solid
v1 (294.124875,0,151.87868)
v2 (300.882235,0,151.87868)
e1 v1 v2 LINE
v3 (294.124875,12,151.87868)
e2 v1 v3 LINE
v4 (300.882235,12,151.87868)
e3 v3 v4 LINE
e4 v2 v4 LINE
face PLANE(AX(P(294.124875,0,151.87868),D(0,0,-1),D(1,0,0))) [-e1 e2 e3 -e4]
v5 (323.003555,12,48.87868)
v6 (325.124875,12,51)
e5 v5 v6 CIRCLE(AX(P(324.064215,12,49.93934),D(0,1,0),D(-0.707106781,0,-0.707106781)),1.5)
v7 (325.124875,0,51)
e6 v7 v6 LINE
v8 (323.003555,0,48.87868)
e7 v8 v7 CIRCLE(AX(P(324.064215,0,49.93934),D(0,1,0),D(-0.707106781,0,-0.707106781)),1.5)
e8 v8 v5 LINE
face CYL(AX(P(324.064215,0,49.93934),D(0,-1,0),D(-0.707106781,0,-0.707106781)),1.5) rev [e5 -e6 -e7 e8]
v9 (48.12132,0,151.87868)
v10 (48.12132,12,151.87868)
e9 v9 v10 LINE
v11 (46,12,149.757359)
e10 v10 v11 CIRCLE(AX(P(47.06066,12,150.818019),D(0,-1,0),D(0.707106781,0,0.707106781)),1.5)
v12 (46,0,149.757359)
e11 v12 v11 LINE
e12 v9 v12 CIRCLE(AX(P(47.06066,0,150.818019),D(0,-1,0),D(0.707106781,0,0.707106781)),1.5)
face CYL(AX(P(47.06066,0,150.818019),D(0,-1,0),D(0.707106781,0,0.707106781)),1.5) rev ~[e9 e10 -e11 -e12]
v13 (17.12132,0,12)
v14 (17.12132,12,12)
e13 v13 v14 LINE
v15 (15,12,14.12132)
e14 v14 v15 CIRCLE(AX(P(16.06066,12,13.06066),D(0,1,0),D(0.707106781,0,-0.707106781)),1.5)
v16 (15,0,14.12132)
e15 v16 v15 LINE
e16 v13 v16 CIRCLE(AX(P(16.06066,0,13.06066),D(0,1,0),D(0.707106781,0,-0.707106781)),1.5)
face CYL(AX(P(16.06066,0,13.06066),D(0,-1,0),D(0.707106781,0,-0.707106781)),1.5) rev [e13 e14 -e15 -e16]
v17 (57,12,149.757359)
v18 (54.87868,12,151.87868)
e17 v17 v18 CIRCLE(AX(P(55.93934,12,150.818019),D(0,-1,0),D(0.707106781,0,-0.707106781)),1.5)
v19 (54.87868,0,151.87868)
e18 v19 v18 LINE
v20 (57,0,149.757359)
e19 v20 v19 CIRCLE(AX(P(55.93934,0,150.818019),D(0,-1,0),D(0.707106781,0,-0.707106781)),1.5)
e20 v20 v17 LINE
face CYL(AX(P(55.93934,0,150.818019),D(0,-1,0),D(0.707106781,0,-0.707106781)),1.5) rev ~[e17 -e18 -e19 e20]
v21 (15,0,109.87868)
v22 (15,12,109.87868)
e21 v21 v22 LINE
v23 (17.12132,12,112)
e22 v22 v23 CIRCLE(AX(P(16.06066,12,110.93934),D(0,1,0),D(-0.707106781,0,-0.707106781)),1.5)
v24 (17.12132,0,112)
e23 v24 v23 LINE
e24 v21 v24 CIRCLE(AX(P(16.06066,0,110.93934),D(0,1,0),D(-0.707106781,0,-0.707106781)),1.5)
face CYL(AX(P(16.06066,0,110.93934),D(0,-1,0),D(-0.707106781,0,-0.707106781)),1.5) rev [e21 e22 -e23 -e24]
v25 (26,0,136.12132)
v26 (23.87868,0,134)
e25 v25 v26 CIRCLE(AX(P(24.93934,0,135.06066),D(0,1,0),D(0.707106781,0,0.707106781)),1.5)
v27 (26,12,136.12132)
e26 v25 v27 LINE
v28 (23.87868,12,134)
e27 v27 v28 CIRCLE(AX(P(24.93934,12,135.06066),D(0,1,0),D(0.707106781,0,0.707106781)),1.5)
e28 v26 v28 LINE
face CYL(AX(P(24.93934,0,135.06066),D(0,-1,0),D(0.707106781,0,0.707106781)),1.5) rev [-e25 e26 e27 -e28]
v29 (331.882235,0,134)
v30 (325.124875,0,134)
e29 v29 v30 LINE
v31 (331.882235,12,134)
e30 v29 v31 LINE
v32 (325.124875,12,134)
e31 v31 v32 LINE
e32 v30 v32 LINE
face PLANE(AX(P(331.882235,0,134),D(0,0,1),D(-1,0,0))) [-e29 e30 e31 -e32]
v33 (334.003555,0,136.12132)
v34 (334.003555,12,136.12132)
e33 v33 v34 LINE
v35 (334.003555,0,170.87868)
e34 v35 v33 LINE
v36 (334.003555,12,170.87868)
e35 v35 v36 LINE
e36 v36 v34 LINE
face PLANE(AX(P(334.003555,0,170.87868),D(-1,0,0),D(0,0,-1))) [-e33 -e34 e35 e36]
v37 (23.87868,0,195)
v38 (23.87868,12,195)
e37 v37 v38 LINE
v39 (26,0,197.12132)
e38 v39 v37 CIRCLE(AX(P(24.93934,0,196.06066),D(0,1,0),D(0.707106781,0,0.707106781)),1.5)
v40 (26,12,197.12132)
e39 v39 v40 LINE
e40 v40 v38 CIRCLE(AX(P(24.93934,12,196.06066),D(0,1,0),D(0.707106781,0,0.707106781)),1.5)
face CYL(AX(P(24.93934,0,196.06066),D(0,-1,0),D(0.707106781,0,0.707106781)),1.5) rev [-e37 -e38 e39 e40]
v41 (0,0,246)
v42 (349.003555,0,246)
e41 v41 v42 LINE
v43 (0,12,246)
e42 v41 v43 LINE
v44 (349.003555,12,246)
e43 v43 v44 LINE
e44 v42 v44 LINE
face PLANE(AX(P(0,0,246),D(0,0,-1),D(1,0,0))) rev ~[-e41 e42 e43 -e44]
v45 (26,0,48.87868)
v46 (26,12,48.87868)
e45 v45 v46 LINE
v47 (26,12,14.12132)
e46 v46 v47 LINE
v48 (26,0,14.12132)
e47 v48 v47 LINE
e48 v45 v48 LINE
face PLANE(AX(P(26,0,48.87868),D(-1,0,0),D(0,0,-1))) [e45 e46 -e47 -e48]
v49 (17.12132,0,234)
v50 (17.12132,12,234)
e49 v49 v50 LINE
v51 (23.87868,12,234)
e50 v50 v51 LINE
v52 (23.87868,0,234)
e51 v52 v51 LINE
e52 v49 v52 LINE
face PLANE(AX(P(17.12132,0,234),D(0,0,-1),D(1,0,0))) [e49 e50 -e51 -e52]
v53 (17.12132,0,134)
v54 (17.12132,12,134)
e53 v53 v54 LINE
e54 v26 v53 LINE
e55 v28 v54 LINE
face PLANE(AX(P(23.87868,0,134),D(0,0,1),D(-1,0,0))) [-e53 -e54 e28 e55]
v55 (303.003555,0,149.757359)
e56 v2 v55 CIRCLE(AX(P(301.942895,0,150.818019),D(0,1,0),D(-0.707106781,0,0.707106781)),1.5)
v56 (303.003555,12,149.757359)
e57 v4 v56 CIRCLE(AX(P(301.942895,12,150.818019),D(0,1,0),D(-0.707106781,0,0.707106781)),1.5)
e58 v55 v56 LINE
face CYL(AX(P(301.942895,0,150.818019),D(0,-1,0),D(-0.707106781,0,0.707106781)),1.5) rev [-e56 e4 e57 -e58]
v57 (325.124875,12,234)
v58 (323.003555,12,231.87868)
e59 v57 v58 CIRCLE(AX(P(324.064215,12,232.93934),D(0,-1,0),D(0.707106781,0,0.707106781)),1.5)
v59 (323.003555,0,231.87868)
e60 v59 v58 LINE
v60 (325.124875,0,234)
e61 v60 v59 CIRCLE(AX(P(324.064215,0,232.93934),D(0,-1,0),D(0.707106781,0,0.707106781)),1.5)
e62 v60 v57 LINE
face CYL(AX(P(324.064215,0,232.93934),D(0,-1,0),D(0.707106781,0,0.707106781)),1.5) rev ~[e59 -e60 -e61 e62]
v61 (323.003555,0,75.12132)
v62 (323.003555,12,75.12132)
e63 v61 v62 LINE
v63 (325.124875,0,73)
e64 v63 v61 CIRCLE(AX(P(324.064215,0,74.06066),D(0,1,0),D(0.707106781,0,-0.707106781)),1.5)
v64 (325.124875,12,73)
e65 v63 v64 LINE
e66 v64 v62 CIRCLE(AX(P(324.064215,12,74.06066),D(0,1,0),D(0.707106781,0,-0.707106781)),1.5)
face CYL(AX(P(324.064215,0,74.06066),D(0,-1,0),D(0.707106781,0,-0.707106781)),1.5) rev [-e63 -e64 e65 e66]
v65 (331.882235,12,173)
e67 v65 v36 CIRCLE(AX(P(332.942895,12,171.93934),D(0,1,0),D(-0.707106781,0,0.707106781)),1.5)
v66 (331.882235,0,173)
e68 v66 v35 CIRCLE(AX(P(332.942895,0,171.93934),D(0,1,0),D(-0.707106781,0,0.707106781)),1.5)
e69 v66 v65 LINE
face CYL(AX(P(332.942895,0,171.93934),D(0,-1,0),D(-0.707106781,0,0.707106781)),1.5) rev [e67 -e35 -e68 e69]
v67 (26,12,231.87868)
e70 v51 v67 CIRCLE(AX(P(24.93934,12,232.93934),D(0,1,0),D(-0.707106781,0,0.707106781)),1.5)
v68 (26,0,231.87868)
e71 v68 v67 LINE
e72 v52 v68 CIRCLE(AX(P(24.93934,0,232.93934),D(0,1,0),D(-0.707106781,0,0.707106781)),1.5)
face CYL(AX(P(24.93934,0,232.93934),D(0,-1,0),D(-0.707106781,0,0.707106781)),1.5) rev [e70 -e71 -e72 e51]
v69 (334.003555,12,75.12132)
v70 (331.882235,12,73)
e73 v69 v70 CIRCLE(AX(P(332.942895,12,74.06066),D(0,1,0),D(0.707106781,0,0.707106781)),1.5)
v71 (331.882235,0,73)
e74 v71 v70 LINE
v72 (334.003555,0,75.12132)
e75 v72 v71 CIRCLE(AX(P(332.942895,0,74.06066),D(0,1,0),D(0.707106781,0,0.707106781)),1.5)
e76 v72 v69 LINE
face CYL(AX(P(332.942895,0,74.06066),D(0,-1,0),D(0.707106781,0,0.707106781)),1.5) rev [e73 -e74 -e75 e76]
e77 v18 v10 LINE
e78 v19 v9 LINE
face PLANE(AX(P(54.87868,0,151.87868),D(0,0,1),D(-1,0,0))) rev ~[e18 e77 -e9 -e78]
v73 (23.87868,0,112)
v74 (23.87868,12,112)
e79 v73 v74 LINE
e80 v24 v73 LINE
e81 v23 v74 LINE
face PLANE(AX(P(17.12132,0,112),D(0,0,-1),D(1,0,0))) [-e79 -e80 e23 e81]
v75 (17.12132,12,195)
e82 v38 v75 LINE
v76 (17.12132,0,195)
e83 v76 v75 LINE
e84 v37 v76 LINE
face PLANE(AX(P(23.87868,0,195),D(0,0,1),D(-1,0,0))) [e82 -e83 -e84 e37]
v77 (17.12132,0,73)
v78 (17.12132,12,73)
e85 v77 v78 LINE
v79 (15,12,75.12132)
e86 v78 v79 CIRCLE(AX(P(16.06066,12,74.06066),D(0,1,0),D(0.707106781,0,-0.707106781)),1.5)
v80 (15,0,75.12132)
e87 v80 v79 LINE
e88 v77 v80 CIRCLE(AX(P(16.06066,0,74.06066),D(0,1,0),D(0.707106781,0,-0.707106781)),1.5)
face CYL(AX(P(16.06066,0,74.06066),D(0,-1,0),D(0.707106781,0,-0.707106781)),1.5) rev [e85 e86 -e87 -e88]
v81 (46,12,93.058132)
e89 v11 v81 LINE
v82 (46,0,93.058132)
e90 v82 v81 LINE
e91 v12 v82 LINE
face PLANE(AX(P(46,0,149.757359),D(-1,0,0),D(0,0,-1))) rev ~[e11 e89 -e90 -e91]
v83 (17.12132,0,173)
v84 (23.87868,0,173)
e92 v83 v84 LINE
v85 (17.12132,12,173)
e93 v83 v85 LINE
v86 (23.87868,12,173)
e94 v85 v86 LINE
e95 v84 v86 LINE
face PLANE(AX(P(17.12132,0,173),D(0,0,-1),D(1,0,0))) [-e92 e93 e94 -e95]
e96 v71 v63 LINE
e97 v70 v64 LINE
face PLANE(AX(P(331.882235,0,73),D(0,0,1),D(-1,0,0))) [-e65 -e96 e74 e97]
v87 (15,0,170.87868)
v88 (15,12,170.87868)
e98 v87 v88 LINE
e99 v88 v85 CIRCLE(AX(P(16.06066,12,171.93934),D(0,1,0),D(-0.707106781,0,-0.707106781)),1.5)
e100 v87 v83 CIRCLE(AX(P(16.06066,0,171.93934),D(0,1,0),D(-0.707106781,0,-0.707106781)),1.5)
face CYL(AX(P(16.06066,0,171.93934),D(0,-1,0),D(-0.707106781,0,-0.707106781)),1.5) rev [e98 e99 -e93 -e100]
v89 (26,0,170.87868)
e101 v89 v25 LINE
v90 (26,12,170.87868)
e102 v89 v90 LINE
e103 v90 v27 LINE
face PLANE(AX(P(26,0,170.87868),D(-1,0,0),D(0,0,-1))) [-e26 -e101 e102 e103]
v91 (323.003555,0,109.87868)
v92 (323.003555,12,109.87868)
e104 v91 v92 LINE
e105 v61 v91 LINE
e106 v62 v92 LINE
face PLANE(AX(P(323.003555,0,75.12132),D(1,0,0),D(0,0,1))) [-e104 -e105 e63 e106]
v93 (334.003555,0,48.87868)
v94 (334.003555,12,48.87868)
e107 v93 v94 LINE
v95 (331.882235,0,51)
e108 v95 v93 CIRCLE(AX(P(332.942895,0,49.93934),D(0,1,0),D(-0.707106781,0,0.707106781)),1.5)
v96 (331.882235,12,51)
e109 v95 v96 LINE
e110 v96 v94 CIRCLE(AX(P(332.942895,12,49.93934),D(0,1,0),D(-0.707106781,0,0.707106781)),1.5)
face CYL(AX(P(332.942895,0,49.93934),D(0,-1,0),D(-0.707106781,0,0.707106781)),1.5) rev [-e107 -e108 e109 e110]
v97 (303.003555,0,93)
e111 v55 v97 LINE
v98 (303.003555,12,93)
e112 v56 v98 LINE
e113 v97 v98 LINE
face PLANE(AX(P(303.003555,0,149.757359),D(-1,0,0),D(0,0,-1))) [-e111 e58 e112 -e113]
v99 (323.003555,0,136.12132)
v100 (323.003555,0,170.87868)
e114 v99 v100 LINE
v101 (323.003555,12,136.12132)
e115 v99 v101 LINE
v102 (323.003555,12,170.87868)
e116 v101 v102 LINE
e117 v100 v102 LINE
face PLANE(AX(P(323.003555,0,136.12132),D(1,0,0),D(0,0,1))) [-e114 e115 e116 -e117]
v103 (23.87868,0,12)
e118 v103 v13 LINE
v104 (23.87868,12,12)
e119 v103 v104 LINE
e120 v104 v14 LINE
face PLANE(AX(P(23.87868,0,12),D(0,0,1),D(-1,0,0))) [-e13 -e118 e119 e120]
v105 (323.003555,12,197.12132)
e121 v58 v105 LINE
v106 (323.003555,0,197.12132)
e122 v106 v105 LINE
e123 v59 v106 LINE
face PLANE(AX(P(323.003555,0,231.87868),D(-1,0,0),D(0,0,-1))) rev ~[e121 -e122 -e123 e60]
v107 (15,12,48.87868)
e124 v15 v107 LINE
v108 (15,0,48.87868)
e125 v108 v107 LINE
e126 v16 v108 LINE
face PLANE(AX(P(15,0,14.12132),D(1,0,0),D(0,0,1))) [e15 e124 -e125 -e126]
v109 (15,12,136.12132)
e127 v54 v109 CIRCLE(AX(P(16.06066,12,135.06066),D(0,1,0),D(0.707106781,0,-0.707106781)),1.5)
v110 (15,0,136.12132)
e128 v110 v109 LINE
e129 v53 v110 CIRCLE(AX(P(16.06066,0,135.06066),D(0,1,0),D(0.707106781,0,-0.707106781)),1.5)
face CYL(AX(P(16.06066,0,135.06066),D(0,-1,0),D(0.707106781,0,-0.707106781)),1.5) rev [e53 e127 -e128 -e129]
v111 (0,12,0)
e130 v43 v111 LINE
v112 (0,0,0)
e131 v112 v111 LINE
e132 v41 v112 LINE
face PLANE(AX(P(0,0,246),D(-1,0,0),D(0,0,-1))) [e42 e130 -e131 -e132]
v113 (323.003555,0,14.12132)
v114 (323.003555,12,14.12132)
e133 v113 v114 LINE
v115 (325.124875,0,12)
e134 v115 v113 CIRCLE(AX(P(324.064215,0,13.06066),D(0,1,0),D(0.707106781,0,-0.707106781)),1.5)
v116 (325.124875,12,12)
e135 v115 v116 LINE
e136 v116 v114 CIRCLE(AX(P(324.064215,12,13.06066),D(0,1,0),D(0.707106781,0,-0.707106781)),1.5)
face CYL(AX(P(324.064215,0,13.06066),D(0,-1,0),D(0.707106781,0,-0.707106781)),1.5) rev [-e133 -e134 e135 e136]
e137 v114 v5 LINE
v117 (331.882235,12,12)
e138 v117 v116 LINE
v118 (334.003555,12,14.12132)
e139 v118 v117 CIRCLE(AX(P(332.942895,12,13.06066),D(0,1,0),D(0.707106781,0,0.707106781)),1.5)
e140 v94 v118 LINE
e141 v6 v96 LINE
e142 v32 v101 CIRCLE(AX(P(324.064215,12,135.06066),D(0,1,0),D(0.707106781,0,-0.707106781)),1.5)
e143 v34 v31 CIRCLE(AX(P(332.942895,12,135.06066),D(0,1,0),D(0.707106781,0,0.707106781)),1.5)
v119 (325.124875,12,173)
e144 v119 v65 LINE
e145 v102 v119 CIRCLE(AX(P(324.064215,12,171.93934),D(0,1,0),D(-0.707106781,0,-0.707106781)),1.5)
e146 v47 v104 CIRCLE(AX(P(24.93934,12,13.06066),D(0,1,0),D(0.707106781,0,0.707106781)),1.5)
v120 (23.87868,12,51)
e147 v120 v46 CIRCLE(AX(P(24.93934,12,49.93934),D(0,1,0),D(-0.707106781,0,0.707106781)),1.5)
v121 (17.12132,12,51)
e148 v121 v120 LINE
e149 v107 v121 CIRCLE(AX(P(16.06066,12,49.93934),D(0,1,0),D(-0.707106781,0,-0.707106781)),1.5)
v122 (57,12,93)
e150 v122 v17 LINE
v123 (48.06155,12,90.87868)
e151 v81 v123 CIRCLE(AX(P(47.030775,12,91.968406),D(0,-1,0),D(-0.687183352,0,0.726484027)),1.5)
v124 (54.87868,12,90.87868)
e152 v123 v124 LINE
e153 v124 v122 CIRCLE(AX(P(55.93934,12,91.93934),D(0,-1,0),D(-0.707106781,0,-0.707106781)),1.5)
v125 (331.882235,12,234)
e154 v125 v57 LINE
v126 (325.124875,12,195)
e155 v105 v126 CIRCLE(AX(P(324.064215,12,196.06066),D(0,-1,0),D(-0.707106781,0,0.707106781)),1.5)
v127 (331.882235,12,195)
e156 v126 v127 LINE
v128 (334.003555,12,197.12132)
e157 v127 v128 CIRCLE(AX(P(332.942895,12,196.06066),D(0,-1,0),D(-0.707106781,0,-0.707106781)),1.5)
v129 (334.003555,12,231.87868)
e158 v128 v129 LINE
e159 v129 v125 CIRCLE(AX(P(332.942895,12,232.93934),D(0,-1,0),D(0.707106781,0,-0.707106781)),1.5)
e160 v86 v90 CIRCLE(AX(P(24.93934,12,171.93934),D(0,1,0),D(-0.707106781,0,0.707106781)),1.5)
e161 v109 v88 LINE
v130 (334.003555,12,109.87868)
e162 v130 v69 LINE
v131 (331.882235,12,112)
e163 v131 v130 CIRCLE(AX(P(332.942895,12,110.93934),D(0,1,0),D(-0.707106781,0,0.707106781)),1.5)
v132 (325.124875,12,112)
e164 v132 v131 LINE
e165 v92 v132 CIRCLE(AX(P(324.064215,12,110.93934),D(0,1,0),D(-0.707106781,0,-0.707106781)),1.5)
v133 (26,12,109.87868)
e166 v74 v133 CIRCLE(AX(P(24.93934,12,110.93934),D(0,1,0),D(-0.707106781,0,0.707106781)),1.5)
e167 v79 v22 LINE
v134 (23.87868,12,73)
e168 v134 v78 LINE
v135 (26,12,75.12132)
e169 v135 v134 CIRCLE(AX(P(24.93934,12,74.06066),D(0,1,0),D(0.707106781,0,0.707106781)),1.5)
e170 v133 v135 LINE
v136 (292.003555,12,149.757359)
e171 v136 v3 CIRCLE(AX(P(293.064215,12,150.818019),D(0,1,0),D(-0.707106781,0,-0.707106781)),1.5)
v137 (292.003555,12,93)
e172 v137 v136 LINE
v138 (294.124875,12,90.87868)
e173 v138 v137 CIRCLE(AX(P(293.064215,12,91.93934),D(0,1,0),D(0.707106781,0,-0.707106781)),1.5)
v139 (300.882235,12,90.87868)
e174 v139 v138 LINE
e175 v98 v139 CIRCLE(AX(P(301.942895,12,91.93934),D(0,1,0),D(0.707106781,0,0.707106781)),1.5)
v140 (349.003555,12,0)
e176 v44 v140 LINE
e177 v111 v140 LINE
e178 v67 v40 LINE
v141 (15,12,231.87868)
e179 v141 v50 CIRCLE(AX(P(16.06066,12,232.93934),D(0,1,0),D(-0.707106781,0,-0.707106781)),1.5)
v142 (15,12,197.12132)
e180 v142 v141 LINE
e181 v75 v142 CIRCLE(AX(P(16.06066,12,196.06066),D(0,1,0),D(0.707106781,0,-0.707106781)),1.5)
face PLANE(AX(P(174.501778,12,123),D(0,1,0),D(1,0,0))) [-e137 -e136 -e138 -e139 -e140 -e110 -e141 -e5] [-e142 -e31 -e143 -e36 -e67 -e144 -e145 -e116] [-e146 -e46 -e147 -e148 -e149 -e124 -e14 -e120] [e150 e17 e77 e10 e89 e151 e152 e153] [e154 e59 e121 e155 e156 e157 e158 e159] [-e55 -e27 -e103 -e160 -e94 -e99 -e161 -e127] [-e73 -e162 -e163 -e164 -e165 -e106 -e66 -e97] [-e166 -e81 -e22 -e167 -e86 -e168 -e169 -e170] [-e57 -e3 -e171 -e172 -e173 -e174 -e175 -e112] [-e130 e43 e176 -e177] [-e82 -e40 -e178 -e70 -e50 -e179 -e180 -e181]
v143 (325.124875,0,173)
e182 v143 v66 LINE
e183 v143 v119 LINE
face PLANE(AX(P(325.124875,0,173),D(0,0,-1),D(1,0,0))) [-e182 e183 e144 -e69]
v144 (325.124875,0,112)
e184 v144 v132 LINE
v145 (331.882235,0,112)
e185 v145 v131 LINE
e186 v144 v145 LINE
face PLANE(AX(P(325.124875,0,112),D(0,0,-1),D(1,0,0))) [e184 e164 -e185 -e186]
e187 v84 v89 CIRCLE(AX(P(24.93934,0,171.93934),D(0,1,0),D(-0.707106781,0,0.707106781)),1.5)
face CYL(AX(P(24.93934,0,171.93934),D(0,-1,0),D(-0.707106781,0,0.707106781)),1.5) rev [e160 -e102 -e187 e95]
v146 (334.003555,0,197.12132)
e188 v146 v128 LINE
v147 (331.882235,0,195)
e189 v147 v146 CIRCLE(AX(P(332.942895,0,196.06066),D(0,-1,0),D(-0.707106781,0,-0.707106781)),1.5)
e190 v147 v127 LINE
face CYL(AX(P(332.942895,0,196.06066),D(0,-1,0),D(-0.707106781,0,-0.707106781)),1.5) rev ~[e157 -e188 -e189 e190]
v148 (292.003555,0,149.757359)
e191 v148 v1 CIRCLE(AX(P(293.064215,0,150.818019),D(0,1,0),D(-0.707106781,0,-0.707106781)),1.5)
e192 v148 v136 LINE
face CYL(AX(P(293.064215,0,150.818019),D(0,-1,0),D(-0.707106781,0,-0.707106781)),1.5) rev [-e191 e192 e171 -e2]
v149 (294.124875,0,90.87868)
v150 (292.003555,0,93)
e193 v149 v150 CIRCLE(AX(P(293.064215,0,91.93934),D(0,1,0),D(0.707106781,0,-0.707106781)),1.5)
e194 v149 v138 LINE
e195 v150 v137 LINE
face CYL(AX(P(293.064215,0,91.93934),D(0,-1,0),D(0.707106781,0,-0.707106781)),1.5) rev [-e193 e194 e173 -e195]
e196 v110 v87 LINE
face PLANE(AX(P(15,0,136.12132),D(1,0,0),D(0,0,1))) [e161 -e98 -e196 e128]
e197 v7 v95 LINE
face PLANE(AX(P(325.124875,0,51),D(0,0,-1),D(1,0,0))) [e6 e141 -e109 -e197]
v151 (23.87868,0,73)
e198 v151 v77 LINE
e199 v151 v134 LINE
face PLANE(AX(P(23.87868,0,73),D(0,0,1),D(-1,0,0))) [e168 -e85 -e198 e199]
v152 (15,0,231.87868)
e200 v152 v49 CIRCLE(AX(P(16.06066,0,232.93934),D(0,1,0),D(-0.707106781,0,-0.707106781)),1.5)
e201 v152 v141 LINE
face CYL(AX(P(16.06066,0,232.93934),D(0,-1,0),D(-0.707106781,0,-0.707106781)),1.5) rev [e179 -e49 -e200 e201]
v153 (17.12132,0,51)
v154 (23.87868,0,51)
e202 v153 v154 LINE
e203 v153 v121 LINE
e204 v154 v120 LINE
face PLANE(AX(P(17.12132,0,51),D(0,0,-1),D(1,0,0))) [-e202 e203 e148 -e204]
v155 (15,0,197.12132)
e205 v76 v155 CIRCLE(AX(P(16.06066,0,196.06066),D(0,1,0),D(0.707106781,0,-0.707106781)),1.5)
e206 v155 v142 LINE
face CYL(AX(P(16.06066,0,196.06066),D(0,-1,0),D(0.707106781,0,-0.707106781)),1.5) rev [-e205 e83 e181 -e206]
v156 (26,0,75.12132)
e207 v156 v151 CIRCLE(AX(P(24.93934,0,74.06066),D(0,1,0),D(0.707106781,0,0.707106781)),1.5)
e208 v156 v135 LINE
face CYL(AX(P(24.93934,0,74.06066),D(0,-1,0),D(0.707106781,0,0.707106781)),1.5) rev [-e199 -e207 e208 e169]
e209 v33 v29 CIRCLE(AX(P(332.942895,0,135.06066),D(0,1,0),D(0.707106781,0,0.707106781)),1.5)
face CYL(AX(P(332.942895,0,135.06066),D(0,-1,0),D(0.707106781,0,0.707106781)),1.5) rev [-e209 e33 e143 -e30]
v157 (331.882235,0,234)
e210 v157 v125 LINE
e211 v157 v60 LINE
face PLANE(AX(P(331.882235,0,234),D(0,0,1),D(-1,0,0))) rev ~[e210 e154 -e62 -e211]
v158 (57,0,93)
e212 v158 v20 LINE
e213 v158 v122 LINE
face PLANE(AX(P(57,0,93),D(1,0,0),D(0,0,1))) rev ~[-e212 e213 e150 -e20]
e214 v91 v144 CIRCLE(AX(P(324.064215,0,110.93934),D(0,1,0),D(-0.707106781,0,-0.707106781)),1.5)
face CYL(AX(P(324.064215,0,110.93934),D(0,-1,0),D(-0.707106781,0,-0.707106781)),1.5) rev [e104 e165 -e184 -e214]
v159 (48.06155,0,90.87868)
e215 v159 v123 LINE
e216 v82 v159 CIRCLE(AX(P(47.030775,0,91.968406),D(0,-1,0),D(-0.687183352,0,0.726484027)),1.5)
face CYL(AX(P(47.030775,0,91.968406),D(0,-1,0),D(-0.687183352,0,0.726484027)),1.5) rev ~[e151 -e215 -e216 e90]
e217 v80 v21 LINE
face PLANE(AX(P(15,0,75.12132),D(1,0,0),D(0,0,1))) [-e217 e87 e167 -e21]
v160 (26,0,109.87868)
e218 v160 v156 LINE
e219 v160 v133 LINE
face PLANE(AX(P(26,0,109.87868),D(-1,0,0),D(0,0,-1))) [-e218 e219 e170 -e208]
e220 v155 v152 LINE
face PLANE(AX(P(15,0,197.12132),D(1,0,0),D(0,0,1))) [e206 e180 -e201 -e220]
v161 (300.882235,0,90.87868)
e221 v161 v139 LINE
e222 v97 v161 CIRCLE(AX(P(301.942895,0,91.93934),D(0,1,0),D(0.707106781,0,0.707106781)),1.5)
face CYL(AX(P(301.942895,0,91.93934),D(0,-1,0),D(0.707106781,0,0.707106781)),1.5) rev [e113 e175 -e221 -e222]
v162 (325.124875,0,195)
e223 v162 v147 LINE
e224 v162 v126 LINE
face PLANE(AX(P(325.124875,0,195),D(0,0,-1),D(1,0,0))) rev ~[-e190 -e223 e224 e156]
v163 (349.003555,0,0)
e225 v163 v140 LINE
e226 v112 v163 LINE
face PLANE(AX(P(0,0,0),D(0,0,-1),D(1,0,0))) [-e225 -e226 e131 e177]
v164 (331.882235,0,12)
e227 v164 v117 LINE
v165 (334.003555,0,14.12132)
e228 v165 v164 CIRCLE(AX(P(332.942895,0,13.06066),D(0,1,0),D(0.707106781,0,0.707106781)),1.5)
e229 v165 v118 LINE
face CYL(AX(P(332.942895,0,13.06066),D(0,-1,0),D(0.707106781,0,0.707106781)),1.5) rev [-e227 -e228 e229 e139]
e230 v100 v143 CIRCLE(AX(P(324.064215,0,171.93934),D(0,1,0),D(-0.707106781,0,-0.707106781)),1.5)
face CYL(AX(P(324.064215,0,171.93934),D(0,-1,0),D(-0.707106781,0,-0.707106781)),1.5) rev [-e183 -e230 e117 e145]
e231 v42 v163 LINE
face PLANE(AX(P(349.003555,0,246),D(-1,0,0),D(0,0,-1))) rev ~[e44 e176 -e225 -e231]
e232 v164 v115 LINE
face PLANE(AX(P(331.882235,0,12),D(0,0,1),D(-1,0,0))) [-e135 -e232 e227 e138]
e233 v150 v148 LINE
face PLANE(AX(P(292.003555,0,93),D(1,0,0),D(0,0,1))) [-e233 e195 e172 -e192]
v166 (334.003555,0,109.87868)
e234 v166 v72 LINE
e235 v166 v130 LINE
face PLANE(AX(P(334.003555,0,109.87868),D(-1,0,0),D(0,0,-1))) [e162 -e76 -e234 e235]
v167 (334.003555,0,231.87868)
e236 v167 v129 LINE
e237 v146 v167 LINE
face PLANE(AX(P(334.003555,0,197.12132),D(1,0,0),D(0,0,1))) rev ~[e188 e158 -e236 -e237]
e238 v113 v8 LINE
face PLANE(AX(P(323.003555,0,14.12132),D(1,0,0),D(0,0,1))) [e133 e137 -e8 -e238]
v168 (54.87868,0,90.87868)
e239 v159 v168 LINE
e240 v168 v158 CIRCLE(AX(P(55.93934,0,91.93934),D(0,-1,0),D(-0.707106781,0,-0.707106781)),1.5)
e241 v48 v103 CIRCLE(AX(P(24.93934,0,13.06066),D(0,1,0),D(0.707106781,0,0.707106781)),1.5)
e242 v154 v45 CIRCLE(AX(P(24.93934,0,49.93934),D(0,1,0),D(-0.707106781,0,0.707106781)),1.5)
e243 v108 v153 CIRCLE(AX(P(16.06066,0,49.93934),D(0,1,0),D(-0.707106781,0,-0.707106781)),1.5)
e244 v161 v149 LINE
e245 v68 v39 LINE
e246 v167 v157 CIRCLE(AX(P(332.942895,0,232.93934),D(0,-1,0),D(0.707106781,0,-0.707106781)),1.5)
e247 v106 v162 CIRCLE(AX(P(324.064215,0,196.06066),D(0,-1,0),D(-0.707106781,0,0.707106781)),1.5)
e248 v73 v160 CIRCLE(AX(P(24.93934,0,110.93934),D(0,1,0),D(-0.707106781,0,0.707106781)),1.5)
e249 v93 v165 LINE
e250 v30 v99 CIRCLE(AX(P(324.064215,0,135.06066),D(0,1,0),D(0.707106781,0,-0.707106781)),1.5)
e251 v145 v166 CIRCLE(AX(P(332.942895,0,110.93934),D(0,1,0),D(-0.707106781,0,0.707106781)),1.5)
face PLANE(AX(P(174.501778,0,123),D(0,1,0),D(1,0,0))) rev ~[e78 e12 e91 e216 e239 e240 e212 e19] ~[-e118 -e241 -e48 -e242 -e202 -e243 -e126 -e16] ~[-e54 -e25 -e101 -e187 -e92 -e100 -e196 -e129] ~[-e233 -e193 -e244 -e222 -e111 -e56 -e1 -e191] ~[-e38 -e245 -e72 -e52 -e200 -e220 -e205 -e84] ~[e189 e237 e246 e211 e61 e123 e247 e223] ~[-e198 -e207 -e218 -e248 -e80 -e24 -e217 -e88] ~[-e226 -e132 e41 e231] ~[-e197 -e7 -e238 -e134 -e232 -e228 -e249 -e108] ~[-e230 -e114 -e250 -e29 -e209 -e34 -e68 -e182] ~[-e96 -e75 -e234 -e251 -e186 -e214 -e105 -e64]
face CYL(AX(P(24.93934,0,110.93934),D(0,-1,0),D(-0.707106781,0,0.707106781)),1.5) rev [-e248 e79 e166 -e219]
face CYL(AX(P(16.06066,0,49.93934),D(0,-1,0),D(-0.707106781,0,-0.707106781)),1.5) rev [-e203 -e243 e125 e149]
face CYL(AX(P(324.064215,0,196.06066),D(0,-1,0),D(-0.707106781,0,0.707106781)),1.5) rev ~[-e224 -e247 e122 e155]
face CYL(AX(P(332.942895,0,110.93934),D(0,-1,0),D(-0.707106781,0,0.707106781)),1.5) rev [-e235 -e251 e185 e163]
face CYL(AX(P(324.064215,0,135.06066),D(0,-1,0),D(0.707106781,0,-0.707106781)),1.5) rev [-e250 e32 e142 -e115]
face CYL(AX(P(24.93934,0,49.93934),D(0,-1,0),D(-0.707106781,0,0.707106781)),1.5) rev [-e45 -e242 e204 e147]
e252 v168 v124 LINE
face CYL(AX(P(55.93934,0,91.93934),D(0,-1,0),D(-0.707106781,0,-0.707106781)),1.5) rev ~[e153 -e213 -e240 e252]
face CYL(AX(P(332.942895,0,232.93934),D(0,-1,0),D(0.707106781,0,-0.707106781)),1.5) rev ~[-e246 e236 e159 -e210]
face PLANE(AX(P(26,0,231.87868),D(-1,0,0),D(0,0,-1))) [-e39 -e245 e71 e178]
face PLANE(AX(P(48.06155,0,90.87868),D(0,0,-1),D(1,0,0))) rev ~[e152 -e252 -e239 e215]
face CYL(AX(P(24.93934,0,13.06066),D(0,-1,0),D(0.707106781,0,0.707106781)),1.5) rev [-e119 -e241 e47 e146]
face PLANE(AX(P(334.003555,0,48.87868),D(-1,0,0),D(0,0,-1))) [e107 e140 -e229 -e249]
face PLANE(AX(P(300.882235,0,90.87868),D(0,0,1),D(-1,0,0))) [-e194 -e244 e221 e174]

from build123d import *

# Parameters (mm, degrees)
CROQUIS1_W              = 349.003555023
CROQUIS1_H              = 246
SALIENTE_EXTRUIR1_DEPTH = 12


with BuildPart() as part:
    # Croquis1 → Saliente-Extruir1 (new body)
    with BuildSketch(Plane(origin=(0, 0, 0), x_dir=(1, 0, 0), z_dir=(0, 1, 0))):
        with Locations((174.501777512, -123)):
            Rectangle(CROQUIS1_W, CROQUIS1_H)
        with BuildLine():
            Line((17.121320344, -173), (23.878679656, -173))
            ThreePointArc((23.878679656, -173), (26, -173), (26, -170.878679656))
            Line((26, -170.878679656), (26, -136.121320344))
            ThreePointArc((26, -136.121320344), (26, -134), (23.878679656, -134))
            Line((23.878679656, -134), (17.121320344, -134))
            ThreePointArc((17.121320344, -134), (15, -134), (15, -136.121320344))
            Line((15, -136.121320344), (15, -170.878679656))
            ThreePointArc((15, -170.878679656), (15, -173), (17.121320344, -173))
        make_face(mode=Mode.SUBTRACT)
        with BuildLine():
            Line((46, -149.757359313), (46, -93.058131736))
            ThreePointArc((46, -93.058131736), (45.941048988, -90.937630668), (48.061550056, -90.878679656))
            Line((48.061550056, -90.878679656), (54.878679656, -90.878679656))
            ThreePointArc((54.878679656, -90.878679656), (57, -90.878679656), (57, -93))
            Line((57, -93), (57, -149.757359313))
            ThreePointArc((57, -149.757359313), (57, -151.878679656), (54.878679656, -151.878679656))
            Line((54.878679656, -151.878679656), (48.121320344, -151.878679656))
            ThreePointArc((48.121320344, -151.878679656), (46, -151.878679656), (46, -149.757359313))
        make_face(mode=Mode.SUBTRACT)
        with BuildLine():
            Line((17.121320344, -112), (23.878679656, -112))
            ThreePointArc((23.878679656, -112), (26, -112), (26, -109.878679656))
            Line((26, -109.878679656), (26, -75.121320344))
            ThreePointArc((26, -75.121320344), (26, -73), (23.878679656, -73))
            Line((23.878679656, -73), (17.121320344, -73))
            ThreePointArc((17.121320344, -73), (15, -73), (15, -75.121320344))
            Line((15, -75.121320344), (15, -109.878679656))
            ThreePointArc((15, -109.878679656), (15, -112), (17.121320344, -112))
        make_face(mode=Mode.SUBTRACT)
        with BuildLine():
            Line((26, -231.878679656), (26, -197.121320344))
            ThreePointArc((26, -197.121320344), (26, -195), (23.878679656, -195))
            Line((23.878679656, -195), (17.121320344, -195))
            ThreePointArc((17.121320344, -195), (15, -195), (15, -197.121320344))
            Line((15, -197.121320344), (15, -231.878679656))
            ThreePointArc((15, -231.878679656), (15, -234), (17.121320344, -234))
            Line((17.121320344, -234), (23.878679656, -234))
            ThreePointArc((23.878679656, -234), (26, -234), (26, -231.878679656))
        make_face(mode=Mode.SUBTRACT)
        with BuildLine():
            Line((17.121320344, -51), (23.878679656, -51))
            ThreePointArc((23.878679656, -51), (26, -51), (26, -48.878679656))
            Line((26, -48.878679656), (26, -14.121320344))
            ThreePointArc((26, -14.121320344), (26, -12), (23.878679656, -12))
            Line((23.878679656, -12), (17.121320344, -12))
            ThreePointArc((17.121320344, -12), (15, -12), (15, -14.121320344))
            Line((15, -14.121320344), (15, -48.878679656))
            ThreePointArc((15, -48.878679656), (15, -51), (17.121320344, -51))
        make_face(mode=Mode.SUBTRACT)
        with BuildLine():
            Line((331.88223468, -234), (325.124875367, -234))
            ThreePointArc((325.124875367, -234), (323.003555023, -234), (323.003555023, -231.878679656))
            Line((323.003555023, -231.878679656), (323.003555023, -197.121320344))
            ThreePointArc((323.003555023, -197.121320344), (323.003555023, -195), (325.124875367, -195))
            Line((325.124875367, -195), (331.88223468, -195))
            ThreePointArc((331.88223468, -195), (334.003555023, -195), (334.003555023, -197.121320344))
            Line((334.003555023, -197.121320344), (334.003555023, -231.878679656))
            ThreePointArc((334.003555023, -231.878679656), (334.003555023, -234), (331.88223468, -234))
        make_face(mode=Mode.SUBTRACT)
        with BuildLine():
            Line((325.124875367, -173), (331.88223468, -173))
            ThreePointArc((331.88223468, -173), (334.003555023, -173), (334.003555023, -170.878679656))
            Line((334.003555023, -170.878679656), (334.003555023, -136.121320344))
            ThreePointArc((334.003555023, -136.121320344), (334.003555023, -134), (331.88223468, -134))
            Line((331.88223468, -134), (325.124875367, -134))
            ThreePointArc((325.124875367, -134), (323.003555023, -134), (323.003555023, -136.121320344))
            Line((323.003555023, -136.121320344), (323.003555023, -170.878679656))
            ThreePointArc((323.003555023, -170.878679656), (323.003555023, -173), (325.124875367, -173))
        make_face(mode=Mode.SUBTRACT)
        with BuildLine():
            Line((325.124875367, -112), (331.88223468, -112))
            ThreePointArc((331.88223468, -112), (334.003555023, -112), (334.003555023, -109.878679656))
            Line((334.003555023, -109.878679656), (334.003555023, -75.121320344))
            ThreePointArc((334.003555023, -75.121320344), (334.003555023, -73), (331.88223468, -73))
            Line((331.88223468, -73), (325.124875367, -73))
            ThreePointArc((325.124875367, -73), (323.003555023, -73), (323.003555023, -75.121320344))
            Line((323.003555023, -75.121320344), (323.003555023, -109.878679656))
            ThreePointArc((323.003555023, -109.878679656), (323.003555023, -112), (325.124875367, -112))
        make_face(mode=Mode.SUBTRACT)
        with BuildLine():
            Line((325.124875367, -51), (331.88223468, -51))
            ThreePointArc((331.88223468, -51), (334.003555023, -51), (334.003555023, -48.878679656))
            Line((334.003555023, -48.878679656), (334.003555023, -14.121320344))
            ThreePointArc((334.003555023, -14.121320344), (334.003555023, -12), (331.88223468, -12))
            Line((331.88223468, -12), (325.124875367, -12))
            ThreePointArc((325.124875367, -12), (323.003555023, -12), (323.003555023, -14.121320344))
            Line((323.003555023, -14.121320344), (323.003555023, -48.878679656))
            ThreePointArc((323.003555023, -48.878679656), (323.003555023, -51), (325.124875367, -51))
        make_face(mode=Mode.SUBTRACT)
        with BuildLine():
            Line((303.003555023, -149.757359313), (303.003555023, -93))
            ThreePointArc((303.003555023, -93), (303.003555023, -90.878679656), (300.88223468, -90.878679656))
            Line((300.88223468, -90.878679656), (294.124875367, -90.878679656))
            ThreePointArc((294.124875367, -90.878679656), (292.003555023, -90.878679656), (292.003555023, -93))
            Line((292.003555023, -93), (292.003555023, -149.757359313))
            ThreePointArc((292.003555023, -149.757359313), (292.003555023, -151.878679656), (294.124875367, -151.878679656))
            Line((294.124875367, -151.878679656), (300.88223468, -151.878679656))
            ThreePointArc((300.88223468, -151.878679656), (303.003555023, -151.878679656), (303.003555023, -149.757359313))
        make_face(mode=Mode.SUBTRACT)
    extrude(amount=SALIENTE_EXTRUIR1_DEPTH)


solid = part.part
